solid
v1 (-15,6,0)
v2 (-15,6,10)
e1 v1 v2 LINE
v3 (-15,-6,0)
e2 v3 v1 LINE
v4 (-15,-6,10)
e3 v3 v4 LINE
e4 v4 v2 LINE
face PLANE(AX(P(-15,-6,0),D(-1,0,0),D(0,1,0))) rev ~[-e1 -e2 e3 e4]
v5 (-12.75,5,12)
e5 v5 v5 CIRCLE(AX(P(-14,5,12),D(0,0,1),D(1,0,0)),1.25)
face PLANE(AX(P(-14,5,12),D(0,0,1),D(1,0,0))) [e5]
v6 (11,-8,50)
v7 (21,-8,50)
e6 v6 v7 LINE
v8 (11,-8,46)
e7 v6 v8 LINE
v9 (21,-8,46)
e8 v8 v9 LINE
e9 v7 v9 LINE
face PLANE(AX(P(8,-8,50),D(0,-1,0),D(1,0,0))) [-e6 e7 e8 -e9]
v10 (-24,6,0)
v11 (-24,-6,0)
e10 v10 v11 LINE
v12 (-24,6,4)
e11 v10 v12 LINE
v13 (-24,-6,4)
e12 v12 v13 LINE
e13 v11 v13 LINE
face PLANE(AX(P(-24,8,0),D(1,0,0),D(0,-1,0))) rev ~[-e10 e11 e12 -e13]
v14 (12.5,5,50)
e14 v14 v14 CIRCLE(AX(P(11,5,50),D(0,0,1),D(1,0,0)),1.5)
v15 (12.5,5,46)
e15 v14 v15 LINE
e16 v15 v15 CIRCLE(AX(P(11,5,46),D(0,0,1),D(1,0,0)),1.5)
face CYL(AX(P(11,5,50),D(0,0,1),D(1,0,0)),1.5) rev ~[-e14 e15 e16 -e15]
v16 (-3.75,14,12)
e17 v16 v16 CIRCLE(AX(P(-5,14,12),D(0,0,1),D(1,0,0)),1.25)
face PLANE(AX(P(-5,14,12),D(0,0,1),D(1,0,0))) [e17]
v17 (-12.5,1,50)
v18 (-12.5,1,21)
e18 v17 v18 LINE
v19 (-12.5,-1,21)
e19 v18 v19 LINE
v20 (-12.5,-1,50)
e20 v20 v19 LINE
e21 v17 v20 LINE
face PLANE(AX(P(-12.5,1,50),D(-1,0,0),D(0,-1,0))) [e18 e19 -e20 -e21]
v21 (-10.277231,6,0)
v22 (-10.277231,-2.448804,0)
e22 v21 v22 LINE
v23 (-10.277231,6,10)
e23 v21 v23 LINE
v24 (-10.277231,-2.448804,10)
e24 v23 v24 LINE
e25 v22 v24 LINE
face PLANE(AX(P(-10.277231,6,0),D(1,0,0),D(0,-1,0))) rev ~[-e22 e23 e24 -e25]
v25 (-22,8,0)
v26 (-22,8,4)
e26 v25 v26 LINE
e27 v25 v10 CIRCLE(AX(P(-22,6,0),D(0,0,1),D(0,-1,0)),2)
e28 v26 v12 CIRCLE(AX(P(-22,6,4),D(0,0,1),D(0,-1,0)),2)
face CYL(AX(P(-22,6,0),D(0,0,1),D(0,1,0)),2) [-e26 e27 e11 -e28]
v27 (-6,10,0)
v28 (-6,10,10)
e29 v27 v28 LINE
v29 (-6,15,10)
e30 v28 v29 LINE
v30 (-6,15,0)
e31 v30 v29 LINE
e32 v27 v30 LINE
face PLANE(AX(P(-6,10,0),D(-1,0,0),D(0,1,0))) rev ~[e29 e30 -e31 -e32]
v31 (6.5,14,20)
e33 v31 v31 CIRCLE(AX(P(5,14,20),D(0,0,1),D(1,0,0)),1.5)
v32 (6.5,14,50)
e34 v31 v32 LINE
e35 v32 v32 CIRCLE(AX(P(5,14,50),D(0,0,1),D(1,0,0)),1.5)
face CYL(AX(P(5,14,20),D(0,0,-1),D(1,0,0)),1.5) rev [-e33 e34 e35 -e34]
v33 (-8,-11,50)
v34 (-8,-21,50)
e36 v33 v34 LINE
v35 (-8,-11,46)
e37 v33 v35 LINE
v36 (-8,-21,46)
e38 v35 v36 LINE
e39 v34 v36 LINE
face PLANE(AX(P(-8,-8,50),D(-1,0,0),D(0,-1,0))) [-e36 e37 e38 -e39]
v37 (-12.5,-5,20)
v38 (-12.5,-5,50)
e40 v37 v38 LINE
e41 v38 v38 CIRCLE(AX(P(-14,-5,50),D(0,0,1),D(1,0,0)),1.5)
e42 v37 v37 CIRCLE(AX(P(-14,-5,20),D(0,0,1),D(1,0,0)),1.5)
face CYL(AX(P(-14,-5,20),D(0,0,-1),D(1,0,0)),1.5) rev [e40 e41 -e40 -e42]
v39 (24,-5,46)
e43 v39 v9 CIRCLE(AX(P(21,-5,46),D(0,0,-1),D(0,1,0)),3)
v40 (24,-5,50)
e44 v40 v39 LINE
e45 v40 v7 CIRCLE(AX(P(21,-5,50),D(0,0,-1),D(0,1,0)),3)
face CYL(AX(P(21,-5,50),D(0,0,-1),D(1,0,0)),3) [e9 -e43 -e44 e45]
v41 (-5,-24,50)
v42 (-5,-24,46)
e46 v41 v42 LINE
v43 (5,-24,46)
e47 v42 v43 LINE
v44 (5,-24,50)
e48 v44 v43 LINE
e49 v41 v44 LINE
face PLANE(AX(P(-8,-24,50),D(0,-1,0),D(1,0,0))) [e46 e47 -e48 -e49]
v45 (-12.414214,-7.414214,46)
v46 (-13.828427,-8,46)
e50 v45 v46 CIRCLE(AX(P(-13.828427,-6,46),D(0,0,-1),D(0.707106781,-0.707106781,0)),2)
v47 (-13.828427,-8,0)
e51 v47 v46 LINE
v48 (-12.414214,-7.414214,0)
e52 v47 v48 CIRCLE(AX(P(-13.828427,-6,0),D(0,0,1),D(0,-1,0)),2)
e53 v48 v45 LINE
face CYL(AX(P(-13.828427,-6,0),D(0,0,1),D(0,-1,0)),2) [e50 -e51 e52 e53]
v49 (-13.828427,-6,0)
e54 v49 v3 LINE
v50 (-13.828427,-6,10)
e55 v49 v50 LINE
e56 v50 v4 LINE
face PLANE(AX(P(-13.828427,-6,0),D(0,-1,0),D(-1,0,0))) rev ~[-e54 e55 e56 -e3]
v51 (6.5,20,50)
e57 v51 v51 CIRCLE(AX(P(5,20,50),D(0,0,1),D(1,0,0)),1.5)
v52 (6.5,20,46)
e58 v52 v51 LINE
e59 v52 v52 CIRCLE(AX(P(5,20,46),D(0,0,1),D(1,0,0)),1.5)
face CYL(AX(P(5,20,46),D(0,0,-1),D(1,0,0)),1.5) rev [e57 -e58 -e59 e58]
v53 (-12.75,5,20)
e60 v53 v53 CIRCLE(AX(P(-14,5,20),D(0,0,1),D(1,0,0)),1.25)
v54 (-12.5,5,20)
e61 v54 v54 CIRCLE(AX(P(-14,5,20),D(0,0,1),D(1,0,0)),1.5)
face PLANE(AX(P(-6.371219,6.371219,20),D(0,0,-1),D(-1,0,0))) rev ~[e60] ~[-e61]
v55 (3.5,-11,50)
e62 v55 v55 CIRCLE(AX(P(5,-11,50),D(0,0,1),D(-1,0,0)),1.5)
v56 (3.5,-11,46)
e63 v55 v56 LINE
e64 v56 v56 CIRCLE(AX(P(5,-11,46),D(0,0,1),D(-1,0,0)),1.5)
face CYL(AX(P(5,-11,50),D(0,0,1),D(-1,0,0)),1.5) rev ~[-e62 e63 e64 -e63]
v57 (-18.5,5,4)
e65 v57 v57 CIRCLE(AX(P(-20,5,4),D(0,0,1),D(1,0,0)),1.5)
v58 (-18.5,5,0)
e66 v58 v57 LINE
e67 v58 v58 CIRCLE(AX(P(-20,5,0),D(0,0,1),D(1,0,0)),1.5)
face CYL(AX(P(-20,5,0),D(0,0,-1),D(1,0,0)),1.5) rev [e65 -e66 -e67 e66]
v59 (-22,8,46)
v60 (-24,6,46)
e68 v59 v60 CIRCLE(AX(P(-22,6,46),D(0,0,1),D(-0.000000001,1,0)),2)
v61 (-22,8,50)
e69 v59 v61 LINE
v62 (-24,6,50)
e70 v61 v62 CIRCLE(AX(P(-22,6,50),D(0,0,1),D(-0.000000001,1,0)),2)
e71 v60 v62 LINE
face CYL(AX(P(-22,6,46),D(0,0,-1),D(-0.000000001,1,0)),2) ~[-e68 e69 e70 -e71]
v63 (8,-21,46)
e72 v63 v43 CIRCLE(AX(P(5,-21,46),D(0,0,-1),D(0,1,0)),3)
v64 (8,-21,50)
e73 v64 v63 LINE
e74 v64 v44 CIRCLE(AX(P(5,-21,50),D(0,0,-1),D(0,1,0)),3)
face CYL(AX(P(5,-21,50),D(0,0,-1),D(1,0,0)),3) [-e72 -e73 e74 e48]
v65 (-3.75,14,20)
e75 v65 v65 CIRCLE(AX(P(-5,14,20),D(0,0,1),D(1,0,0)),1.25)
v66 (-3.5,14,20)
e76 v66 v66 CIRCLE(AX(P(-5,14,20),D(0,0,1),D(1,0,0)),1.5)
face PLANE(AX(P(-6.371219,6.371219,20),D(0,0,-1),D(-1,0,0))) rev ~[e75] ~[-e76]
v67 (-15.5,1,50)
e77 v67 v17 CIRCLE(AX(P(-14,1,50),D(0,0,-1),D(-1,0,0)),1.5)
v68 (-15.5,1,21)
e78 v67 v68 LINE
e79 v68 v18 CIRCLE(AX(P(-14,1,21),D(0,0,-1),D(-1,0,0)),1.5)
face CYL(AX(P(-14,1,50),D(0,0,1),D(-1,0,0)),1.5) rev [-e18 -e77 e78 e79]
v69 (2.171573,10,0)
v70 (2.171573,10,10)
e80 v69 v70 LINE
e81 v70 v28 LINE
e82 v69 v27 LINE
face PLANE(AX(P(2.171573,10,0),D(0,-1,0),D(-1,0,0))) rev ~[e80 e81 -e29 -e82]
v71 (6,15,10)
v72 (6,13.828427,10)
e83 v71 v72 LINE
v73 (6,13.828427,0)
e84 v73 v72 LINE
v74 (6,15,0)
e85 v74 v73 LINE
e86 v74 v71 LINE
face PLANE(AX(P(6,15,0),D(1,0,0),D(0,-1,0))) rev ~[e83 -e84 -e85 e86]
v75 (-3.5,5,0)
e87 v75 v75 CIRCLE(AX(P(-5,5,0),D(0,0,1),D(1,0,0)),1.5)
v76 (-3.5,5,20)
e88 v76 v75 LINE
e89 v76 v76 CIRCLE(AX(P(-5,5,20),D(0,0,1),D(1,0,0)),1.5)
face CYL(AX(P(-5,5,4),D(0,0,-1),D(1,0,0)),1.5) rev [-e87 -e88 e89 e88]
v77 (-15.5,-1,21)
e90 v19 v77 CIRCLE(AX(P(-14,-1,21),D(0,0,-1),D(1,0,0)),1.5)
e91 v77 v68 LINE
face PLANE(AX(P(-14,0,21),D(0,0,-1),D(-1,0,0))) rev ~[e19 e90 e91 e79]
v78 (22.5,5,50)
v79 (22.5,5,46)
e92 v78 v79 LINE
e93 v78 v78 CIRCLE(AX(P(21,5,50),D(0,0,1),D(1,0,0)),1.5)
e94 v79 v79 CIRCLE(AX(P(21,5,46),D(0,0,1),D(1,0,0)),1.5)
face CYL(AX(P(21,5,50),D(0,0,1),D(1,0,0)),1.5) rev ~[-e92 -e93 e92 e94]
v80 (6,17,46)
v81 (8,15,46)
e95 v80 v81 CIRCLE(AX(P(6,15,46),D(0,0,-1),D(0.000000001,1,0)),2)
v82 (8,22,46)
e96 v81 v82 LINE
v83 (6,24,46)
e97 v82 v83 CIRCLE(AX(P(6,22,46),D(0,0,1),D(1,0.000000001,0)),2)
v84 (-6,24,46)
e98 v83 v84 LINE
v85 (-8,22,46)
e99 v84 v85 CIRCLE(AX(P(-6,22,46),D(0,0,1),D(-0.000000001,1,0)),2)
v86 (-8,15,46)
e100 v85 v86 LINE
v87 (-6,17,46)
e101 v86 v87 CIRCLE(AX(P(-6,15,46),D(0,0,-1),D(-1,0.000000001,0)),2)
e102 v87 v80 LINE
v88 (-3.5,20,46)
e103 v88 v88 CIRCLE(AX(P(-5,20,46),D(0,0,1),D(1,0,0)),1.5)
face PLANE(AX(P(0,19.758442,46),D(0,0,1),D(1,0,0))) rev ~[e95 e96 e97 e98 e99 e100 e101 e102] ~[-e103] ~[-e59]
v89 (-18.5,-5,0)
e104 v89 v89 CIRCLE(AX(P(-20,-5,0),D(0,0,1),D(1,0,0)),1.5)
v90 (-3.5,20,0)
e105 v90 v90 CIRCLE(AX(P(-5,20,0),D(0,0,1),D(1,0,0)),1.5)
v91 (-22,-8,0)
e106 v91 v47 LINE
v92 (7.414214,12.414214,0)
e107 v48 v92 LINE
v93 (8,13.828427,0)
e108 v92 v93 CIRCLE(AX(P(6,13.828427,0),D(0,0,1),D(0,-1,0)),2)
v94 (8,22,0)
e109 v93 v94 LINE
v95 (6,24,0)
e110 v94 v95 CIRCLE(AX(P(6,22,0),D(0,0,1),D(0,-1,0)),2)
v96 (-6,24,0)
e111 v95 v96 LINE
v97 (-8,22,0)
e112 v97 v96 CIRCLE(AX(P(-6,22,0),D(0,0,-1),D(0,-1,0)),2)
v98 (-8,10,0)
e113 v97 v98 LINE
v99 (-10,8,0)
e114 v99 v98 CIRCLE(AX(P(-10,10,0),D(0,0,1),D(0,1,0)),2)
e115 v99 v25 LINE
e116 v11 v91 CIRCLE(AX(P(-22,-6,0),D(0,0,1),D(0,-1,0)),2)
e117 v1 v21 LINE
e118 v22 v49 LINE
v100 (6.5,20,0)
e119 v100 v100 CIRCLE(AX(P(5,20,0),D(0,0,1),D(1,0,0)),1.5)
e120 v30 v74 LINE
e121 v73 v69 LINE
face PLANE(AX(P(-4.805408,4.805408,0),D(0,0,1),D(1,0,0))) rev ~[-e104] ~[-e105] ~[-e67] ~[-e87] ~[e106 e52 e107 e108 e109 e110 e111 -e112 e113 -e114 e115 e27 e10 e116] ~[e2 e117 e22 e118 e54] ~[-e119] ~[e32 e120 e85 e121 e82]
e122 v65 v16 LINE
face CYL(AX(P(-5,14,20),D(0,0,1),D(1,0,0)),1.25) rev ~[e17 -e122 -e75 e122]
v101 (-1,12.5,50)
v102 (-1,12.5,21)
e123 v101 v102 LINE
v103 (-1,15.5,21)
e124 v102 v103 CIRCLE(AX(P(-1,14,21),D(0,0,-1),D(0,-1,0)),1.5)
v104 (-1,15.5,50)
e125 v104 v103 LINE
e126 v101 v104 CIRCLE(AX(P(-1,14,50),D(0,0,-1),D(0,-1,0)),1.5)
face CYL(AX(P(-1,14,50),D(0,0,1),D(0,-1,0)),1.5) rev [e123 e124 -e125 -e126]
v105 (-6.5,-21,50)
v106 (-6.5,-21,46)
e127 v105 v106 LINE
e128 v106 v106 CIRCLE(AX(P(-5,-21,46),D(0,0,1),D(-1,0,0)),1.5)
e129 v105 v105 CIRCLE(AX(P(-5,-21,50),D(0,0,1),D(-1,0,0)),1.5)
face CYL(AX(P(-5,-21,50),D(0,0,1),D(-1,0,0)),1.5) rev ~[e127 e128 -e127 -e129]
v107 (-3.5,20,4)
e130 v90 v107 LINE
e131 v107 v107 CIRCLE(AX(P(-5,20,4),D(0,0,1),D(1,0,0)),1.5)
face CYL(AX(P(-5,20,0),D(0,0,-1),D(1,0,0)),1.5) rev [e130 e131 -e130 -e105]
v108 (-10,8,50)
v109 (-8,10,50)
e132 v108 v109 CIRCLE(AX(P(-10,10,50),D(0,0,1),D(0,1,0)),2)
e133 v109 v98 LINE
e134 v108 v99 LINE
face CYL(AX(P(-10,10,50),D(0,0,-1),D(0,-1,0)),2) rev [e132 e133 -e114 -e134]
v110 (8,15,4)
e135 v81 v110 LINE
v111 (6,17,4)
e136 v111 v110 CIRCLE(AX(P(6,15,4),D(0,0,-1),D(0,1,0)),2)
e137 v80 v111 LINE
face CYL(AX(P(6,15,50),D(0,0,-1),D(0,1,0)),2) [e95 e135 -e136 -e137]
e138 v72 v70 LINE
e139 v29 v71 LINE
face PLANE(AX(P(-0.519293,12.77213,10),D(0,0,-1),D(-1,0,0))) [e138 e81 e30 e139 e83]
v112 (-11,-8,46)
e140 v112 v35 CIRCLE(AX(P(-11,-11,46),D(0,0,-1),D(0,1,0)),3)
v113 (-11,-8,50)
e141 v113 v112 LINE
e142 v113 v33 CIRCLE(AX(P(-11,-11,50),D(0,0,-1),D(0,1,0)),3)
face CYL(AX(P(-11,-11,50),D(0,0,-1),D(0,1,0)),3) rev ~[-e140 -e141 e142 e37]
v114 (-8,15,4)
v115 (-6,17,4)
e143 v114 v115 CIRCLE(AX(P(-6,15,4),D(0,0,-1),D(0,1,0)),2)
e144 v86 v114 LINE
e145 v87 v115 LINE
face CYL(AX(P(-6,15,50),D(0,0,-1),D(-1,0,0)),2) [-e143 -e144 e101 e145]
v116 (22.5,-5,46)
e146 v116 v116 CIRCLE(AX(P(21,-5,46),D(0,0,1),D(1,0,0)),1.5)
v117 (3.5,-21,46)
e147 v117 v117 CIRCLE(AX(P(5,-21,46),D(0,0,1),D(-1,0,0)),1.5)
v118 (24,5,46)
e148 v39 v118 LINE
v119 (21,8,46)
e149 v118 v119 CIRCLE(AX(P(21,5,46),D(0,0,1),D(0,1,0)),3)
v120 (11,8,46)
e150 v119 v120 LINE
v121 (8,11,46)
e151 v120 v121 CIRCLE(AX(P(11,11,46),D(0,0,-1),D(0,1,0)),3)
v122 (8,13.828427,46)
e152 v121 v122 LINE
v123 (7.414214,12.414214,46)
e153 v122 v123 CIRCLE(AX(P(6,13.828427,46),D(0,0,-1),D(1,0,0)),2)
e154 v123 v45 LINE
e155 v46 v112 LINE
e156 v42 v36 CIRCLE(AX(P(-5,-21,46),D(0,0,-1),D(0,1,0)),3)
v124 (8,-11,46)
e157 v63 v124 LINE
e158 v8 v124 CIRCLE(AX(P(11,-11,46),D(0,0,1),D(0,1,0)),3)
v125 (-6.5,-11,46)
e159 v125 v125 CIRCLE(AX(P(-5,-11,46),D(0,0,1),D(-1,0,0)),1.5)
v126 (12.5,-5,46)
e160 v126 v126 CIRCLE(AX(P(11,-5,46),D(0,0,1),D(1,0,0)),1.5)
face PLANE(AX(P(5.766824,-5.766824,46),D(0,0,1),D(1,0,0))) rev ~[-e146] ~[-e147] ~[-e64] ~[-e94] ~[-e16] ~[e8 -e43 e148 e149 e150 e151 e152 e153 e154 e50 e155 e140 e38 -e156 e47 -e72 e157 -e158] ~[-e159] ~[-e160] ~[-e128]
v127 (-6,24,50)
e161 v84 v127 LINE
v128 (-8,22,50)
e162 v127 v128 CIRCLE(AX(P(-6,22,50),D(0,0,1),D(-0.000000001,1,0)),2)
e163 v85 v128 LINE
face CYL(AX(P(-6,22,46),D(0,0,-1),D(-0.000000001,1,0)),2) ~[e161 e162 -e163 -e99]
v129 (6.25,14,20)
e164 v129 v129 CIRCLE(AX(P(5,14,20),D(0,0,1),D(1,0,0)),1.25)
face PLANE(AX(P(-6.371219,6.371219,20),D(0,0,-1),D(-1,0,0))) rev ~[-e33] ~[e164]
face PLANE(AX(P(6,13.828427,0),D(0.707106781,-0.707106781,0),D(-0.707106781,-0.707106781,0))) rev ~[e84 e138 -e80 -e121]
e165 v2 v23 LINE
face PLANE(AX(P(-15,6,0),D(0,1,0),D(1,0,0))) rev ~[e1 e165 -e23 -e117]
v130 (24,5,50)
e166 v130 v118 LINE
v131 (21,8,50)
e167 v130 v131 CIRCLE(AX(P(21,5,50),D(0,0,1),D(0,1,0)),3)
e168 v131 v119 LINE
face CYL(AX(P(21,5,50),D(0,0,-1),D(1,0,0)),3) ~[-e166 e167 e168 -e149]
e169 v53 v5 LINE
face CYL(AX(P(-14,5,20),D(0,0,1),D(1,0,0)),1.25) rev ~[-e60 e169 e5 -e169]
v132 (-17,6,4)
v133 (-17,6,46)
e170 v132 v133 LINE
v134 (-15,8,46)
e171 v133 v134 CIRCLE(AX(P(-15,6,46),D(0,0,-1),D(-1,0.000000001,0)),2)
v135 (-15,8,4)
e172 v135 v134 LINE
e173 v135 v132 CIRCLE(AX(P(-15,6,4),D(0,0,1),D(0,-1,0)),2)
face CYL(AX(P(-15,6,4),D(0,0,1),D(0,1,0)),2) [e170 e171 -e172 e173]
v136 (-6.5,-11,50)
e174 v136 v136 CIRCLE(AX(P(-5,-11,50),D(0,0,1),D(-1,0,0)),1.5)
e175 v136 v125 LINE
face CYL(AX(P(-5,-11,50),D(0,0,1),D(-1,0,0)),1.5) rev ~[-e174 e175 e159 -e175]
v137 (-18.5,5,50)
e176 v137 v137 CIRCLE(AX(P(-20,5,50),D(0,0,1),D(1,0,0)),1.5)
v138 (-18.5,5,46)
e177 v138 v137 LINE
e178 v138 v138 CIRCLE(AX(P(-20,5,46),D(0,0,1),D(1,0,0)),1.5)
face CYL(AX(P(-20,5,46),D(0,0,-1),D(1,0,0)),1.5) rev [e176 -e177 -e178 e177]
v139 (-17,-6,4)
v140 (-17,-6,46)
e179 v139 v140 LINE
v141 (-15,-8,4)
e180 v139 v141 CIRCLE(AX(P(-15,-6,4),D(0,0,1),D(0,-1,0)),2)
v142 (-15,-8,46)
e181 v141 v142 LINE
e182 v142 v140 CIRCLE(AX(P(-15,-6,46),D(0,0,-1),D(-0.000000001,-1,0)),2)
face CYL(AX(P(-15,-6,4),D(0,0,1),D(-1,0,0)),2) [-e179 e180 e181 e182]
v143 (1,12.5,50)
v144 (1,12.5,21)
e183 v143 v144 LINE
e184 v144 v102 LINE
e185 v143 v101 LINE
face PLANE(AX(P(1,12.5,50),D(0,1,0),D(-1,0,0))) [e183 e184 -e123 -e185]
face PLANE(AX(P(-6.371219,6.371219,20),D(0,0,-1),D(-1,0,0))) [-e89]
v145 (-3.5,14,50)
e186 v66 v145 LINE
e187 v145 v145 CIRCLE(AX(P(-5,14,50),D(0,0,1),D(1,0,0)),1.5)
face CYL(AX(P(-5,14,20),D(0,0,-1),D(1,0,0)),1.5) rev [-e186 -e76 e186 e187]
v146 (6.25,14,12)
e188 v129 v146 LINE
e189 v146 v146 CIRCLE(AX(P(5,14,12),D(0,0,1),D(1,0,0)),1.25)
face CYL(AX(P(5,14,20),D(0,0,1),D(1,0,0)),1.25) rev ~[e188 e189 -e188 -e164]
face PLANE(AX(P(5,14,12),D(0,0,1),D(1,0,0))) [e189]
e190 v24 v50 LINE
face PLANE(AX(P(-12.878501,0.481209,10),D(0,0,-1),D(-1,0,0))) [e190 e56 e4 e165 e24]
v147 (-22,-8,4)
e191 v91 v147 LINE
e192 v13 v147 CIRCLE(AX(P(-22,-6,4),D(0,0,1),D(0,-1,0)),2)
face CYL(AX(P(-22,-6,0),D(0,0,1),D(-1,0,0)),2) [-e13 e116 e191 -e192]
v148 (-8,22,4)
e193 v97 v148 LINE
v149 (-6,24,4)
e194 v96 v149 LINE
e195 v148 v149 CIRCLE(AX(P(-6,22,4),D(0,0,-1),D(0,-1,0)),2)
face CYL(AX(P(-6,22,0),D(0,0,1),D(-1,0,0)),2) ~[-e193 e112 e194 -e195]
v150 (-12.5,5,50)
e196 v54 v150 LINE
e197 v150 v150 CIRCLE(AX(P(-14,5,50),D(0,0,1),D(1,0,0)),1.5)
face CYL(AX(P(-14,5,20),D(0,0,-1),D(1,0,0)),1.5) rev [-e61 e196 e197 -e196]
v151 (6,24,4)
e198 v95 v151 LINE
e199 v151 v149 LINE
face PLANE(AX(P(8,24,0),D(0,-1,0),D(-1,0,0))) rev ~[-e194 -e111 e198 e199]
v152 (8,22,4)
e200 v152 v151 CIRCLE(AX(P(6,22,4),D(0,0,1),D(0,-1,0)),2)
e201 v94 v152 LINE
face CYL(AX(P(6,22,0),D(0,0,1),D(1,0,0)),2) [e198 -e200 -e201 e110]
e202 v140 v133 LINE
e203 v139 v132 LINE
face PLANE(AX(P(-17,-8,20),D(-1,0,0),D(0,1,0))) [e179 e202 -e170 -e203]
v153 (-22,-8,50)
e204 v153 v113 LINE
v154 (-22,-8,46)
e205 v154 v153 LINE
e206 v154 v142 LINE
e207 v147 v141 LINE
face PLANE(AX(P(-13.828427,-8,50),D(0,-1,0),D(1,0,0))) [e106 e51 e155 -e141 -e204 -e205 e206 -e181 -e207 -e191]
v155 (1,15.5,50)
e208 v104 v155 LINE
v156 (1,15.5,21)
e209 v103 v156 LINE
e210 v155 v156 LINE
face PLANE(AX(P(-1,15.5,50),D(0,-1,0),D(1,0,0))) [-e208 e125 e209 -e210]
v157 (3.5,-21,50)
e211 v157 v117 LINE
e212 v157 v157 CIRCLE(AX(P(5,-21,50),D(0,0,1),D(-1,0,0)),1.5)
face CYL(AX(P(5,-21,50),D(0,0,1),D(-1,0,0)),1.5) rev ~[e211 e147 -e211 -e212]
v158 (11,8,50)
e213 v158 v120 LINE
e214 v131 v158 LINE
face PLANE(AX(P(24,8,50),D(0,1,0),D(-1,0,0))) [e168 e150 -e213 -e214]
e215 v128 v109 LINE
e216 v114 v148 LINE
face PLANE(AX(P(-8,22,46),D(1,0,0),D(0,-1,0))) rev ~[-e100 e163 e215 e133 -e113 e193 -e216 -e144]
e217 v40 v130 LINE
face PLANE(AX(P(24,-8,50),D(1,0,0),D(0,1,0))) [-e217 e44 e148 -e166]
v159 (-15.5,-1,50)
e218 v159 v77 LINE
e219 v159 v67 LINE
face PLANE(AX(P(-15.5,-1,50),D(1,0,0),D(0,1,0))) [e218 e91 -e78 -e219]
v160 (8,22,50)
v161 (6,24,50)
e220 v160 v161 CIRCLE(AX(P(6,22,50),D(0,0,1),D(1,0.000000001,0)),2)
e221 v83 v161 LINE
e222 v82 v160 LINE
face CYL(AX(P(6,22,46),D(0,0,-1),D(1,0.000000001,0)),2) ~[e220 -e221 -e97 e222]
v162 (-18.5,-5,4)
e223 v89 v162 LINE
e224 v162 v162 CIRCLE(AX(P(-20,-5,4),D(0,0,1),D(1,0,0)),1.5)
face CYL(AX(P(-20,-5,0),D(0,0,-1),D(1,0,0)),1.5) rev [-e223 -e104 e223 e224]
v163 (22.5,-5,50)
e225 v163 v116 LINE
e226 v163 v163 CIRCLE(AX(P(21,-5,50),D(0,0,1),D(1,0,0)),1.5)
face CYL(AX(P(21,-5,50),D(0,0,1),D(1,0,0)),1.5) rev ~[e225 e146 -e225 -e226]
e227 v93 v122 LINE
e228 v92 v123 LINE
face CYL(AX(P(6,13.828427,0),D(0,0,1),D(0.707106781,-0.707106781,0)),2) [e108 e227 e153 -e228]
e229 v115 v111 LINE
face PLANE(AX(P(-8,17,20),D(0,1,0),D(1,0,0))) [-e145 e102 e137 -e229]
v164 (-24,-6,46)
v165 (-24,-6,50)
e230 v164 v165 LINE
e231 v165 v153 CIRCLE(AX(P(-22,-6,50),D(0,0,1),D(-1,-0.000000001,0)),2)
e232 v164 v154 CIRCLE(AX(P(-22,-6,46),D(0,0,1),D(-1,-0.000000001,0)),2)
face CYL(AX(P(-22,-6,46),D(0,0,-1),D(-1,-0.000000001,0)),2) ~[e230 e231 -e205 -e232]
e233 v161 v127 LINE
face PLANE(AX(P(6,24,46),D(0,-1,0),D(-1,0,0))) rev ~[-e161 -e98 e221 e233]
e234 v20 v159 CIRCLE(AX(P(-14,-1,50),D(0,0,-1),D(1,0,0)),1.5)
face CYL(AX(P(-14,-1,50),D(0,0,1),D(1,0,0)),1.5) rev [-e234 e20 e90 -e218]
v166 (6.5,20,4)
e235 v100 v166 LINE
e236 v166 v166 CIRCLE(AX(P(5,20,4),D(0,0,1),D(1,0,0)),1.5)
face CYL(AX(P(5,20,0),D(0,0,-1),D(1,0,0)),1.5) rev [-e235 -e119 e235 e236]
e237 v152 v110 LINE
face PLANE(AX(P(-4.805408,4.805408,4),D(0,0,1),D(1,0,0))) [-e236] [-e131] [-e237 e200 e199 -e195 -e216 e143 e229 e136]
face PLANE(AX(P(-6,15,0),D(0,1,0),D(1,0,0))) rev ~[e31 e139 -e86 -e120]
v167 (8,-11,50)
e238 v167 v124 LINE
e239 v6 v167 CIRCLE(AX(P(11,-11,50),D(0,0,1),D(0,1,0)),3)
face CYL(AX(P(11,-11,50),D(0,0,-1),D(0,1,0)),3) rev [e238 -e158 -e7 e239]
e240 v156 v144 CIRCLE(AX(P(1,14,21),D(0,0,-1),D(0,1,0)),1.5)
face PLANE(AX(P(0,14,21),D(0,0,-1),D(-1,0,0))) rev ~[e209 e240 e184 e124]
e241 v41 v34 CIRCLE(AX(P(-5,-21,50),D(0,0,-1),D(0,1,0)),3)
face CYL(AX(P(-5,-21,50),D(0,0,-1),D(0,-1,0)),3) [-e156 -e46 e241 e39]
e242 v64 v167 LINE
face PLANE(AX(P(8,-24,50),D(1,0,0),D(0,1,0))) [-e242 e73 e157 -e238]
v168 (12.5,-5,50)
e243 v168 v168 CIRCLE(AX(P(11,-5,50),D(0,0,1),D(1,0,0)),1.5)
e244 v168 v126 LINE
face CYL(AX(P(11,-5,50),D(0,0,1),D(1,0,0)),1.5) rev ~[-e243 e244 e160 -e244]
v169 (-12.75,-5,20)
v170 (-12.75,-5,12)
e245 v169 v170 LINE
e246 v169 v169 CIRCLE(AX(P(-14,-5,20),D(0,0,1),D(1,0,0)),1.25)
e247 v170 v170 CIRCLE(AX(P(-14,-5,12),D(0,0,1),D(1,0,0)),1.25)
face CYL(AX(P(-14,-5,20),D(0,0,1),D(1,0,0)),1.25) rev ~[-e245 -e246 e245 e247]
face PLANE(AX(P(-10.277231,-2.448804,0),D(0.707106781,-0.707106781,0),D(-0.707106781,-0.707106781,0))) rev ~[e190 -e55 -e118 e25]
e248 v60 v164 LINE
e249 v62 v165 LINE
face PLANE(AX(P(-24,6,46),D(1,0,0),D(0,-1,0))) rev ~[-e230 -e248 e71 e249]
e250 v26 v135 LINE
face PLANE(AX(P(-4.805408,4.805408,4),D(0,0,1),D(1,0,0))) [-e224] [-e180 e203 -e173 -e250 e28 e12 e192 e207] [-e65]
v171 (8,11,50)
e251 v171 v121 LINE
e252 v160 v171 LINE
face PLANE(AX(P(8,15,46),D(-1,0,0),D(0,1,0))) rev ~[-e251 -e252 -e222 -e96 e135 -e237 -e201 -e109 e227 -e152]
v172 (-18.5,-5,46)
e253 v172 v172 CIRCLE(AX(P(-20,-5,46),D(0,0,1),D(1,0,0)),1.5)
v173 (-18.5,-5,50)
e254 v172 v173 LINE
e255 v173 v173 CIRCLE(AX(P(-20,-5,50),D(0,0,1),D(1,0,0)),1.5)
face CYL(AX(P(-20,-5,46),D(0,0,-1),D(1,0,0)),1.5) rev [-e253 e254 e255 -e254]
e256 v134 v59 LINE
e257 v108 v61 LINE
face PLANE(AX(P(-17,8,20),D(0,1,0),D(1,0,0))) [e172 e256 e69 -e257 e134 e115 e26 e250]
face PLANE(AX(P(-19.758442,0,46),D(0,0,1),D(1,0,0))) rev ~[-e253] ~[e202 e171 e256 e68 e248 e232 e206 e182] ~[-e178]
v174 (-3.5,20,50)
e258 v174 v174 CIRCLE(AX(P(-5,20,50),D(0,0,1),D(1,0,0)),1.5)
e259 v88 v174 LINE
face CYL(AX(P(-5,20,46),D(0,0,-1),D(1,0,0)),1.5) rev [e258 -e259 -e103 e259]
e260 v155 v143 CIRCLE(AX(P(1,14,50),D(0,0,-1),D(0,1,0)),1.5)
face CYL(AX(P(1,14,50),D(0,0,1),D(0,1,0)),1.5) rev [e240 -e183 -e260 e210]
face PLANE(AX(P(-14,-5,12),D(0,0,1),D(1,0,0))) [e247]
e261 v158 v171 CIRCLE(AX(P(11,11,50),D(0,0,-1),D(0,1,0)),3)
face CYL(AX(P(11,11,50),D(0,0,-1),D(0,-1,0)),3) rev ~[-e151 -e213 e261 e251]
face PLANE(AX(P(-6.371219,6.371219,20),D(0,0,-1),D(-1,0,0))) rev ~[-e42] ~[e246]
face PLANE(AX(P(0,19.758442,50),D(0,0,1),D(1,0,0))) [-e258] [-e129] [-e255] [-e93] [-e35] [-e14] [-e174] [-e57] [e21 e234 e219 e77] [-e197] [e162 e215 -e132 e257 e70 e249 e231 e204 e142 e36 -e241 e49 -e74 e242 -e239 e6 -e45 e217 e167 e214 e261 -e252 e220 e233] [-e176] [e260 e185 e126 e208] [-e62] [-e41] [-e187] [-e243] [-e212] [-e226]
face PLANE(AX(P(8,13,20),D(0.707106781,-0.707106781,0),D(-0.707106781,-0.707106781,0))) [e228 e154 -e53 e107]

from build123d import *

# Parameters (mm, degrees)
SKETCH_1_R          = 1.5
EXTRUDE_1_DEPTH     = 4
SKETCH_2_R          = 1.5
EXTRUDE_2_DEPTH     = 16
CUT_EXTRUDE_4_DEPTH = 10
SKETCH_5_R          = 1.25
CUT_EXTRUDE_5_DEPTH = 8
SKETCH_6_R          = 1.5
EXTRUDE_3_DEPTH     = 30
CUT_EXTRUDE_6_DEPTH = 29
FILLET_2_R          = 2
SKETCH_11_R         = 1.5
EXTRUDE_4_DEPTH     = 4
FILLET_3_R          = 3
EXTRUDE_START       = -4
SKETCH_13_R         = 1.5
EXTRUDE_5_DEPTH     = 4


with BuildPart() as part:
    # 草图1 → 凸台-拉伸1 (new body)
    # profile 1 of 3: a face of its own
    with BuildSketch(Plane.XY):
        Polygon((-24, -8), (-13, -8), (-4, 1), (-8, 1), (-8, 8), (-24, 8), align=None)
        with Locations((-20, -5)):
            Circle(SKETCH_1_R, mode=Mode.SUBTRACT)
        with Locations((-20, 5)):
            Circle(SKETCH_1_R, mode=Mode.SUBTRACT)
    # profile 2 of 3: a face of its own
    with BuildSketch(Plane.XY):
        Polygon((-1, 8), (-1, 4), (8, 13), (8, 24), (-8, 24), (-8, 8), align=None)
        with Locations((-5, 20)):
            Circle(SKETCH_1_R, mode=Mode.SUBTRACT)
        with Locations((5, 20)):
            Circle(SKETCH_1_R, mode=Mode.SUBTRACT)
    # profile 3 of 3: a face of its own
    with BuildSketch(Plane.XY):
        Polygon((-8, 1), (-4, 1), (-1, 4), (-1, 8), (-8, 8), align=None)
        with Locations((-5, 5)):
            Circle(SKETCH_1_R, mode=Mode.SUBTRACT)
    extrude(amount=EXTRUDE_1_DEPTH)

    # 草图2 → 凸台-拉伸2 (add)
    with BuildSketch(Plane.XY.offset(4)):
        Polygon((-8, 17), (8, 17), (8, 13), (-13, -8), (-17, -8), (-17, 8), (-8, 8), align=None)
        with Locations((-5, 5)):
            Circle(SKETCH_2_R, mode=Mode.SUBTRACT)
    extrude(amount=EXTRUDE_2_DEPTH)

    # 草图4 → 切除-拉伸4 (cut)
    with BuildSketch(Plane(origin=(0, 0, 0), x_dir=(-1, 0, 0), z_dir=(0, 0, -1))):
        Polygon((-2.171572875, 10), (6, 10), (6, 15), (-6, 15), (-6, 13.828427125), align=None)
        Polygon((10.27723117, 6), (10.27723117, -2.448804045), (13.828427125, -6), (15, -6), (15, 6), align=None)
    extrude(amount=-CUT_EXTRUDE_4_DEPTH, mode=Mode.SUBTRACT)

    # 草图5 → 切除-拉伸5 (cut)
    with BuildSketch(Plane.XY.offset(20)):
        with Locations((-14, 5)):
            Circle(SKETCH_5_R)
        with Locations((-14, -5)):
            Circle(SKETCH_5_R)
        with Locations((-5, 14)):
            Circle(SKETCH_5_R)
        with Locations((5, 14)):
            Circle(SKETCH_5_R)
    extrude(amount=-CUT_EXTRUDE_5_DEPTH, mode=Mode.SUBTRACT)

    # 草图6 → 凸台-拉伸3 (add)
    with BuildSketch(Plane.XY.offset(20)):
        Polygon((-17, 8), (-8, 8), (-8, 17), (8, 17), (8, 13), (-13, -8), (-17, -8), align=None)
        with Locations((-14, 5)):
            Circle(SKETCH_6_R, mode=Mode.SUBTRACT)
        with Locations((-14, -5)):
            Circle(SKETCH_6_R, mode=Mode.SUBTRACT)
        with Locations((-5, 14)):
            Circle(SKETCH_6_R, mode=Mode.SUBTRACT)
        with Locations((5, 14)):
            Circle(SKETCH_6_R, mode=Mode.SUBTRACT)
    extrude(amount=EXTRUDE_3_DEPTH)

    # 草图7 → 切除-拉伸6 (cut)
    with BuildSketch(Plane.XY.offset(50)):
        with BuildLine():
            Line((-1, 15.5), (1, 15.5))
            ThreePointArc((1, 15.5), (2.5, 14), (1, 12.5))
            Line((1, 12.5), (-1, 12.5))
            ThreePointArc((-1, 12.5), (-2.5, 14), (-1, 15.5))
        make_face()
        with BuildLine():
            Line((-12.5, 1), (-12.5, -1))
            ThreePointArc((-12.5, -1), (-14, -2.5), (-15.5, -1))
            Line((-15.5, -1), (-15.5, 1))
            ThreePointArc((-15.5, 1), (-14, 2.5), (-12.5, 1))
        make_face()
    extrude(amount=-CUT_EXTRUDE_6_DEPTH, mode=Mode.SUBTRACT)

    # 圆角2
    fillet_2_edges = [part.edges().sort_by_distance(p)[0] for p in [
        (-13, -8, 25),
        (-24, -8, 2),
        (-24, 8, 2),
        (-8, 8, 25),
        (-8, 24, 2),
        (8, 24, 2),
        (8, 13, 25),
        (-17, 8, 27),
        (-17, -8, 27),
        (8, 17, 27),
        (-8, 17, 27),
    ]]
    fillet(fillet_2_edges, radius=FILLET_2_R)

    # 草图11 → 凸台-拉伸4 (add)
    with BuildSketch(Plane.XY.offset(50)):
        with BuildLine():
            Line((-13.828427125, -8), (-8, -8))
            Line((-8, -8), (-8, -24))
            Line((-8, -24), (8, -24))
            Line((8, -24), (8, -8))
            Line((8, -8), (24, -8))
            Line((24, -8), (24, 8))
            Line((24, 8), (8, 8))
            Line((8, 8), (8, 13.828427125))
            ThreePointArc((8, 13.828427125), (7.847759065, 13.06306026), (7.414213562, 12.414213562))
            Line((7.414213562, 12.414213562), (-12.414213562, -7.414213562))
            ThreePointArc((-12.414213562, -7.414213562), (-13.06306026, -7.847759065), (-13.828427125, -8))
        make_face()
        with Locations((21, 5)):
            Circle(SKETCH_11_R, mode=Mode.SUBTRACT)
        with Locations((21, -5)):
            Circle(SKETCH_11_R, mode=Mode.SUBTRACT)
        with Locations((11, -5)):
            Circle(SKETCH_11_R, mode=Mode.SUBTRACT)
        with Locations((11, 5)):
            Circle(SKETCH_11_R, mode=Mode.SUBTRACT)
        with Locations(Location((5, -21, 0), (0, 0, 180))):
            Circle(SKETCH_11_R, mode=Mode.SUBTRACT)
        with Locations(Location((-5, -21, 0), (0, 0, 180))):
            Circle(SKETCH_11_R, mode=Mode.SUBTRACT)
        with Locations(Location((-5, -11, 0), (0, 0, 180))):
            Circle(SKETCH_11_R, mode=Mode.SUBTRACT)
        with Locations(Location((5, -11, 0), (0, 0, 180))):
            Circle(SKETCH_11_R, mode=Mode.SUBTRACT)
    extrude(amount=-EXTRUDE_4_DEPTH)

    # 圆角3
    fillet_3_edges = [part.edges().sort_by_distance(p)[0] for p in [
        (-8, -24, 48),
        (-8, -8, 48),
        (8, 8, 48),
        (24, 8, 48),
        (24, -8, 48),
        (8, -8, 48),
        (8, -24, 48),
    ]]
    fillet(fillet_3_edges, radius=FILLET_3_R)

    # 草图13 → 凸台-拉伸5 (add)
    # profile 1 of 2: a face of its own
    with BuildSketch(Plane.XY.offset(50).offset(EXTRUDE_START)):
        with BuildLine():
            ThreePointArc((8, 22), (7.414213562, 23.414213562), (6, 24))
            Line((6, 24), (-6, 24))
            ThreePointArc((-6, 24), (-7.414213562, 23.414213562), (-8, 22))
            Line((-8, 22), (-8, 15))
            ThreePointArc((-8, 15), (-7.414213562, 16.414213562), (-6, 17))
            Line((-6, 17), (6, 17))
            ThreePointArc((6, 17), (7.414213562, 16.414213562), (8, 15))
            Line((8, 15), (8, 22))
        make_face()
        with Locations((-5, 20)):
            Circle(SKETCH_13_R, mode=Mode.SUBTRACT)
        with Locations((5, 20)):
            Circle(SKETCH_13_R, mode=Mode.SUBTRACT)
    # profile 2 of 2: a face of its own
    with BuildSketch(Plane.XY.offset(50).offset(EXTRUDE_START)):
        with BuildLine():
            ThreePointArc((-17, 6), (-16.414213562, 7.414213562), (-15, 8))
            Line((-15, 8), (-22, 8))
            ThreePointArc((-22, 8), (-23.414213562, 7.414213562), (-24, 6))
            Line((-24, 6), (-24, -6))
            ThreePointArc((-24, -6), (-23.414213562, -7.414213562), (-22, -8))
            Line((-22, -8), (-15, -8))
            ThreePointArc((-15, -8), (-16.414213562, -7.414213562), (-17, -6))
            Line((-17, -6), (-17, 6))
        make_face()
        with Locations((-20, -5)):
            Circle(SKETCH_13_R, mode=Mode.SUBTRACT)
        with Locations((-20, 5)):
            Circle(SKETCH_13_R, mode=Mode.SUBTRACT)
    extrude(amount=EXTRUDE_5_DEPTH)


solid = part.part
